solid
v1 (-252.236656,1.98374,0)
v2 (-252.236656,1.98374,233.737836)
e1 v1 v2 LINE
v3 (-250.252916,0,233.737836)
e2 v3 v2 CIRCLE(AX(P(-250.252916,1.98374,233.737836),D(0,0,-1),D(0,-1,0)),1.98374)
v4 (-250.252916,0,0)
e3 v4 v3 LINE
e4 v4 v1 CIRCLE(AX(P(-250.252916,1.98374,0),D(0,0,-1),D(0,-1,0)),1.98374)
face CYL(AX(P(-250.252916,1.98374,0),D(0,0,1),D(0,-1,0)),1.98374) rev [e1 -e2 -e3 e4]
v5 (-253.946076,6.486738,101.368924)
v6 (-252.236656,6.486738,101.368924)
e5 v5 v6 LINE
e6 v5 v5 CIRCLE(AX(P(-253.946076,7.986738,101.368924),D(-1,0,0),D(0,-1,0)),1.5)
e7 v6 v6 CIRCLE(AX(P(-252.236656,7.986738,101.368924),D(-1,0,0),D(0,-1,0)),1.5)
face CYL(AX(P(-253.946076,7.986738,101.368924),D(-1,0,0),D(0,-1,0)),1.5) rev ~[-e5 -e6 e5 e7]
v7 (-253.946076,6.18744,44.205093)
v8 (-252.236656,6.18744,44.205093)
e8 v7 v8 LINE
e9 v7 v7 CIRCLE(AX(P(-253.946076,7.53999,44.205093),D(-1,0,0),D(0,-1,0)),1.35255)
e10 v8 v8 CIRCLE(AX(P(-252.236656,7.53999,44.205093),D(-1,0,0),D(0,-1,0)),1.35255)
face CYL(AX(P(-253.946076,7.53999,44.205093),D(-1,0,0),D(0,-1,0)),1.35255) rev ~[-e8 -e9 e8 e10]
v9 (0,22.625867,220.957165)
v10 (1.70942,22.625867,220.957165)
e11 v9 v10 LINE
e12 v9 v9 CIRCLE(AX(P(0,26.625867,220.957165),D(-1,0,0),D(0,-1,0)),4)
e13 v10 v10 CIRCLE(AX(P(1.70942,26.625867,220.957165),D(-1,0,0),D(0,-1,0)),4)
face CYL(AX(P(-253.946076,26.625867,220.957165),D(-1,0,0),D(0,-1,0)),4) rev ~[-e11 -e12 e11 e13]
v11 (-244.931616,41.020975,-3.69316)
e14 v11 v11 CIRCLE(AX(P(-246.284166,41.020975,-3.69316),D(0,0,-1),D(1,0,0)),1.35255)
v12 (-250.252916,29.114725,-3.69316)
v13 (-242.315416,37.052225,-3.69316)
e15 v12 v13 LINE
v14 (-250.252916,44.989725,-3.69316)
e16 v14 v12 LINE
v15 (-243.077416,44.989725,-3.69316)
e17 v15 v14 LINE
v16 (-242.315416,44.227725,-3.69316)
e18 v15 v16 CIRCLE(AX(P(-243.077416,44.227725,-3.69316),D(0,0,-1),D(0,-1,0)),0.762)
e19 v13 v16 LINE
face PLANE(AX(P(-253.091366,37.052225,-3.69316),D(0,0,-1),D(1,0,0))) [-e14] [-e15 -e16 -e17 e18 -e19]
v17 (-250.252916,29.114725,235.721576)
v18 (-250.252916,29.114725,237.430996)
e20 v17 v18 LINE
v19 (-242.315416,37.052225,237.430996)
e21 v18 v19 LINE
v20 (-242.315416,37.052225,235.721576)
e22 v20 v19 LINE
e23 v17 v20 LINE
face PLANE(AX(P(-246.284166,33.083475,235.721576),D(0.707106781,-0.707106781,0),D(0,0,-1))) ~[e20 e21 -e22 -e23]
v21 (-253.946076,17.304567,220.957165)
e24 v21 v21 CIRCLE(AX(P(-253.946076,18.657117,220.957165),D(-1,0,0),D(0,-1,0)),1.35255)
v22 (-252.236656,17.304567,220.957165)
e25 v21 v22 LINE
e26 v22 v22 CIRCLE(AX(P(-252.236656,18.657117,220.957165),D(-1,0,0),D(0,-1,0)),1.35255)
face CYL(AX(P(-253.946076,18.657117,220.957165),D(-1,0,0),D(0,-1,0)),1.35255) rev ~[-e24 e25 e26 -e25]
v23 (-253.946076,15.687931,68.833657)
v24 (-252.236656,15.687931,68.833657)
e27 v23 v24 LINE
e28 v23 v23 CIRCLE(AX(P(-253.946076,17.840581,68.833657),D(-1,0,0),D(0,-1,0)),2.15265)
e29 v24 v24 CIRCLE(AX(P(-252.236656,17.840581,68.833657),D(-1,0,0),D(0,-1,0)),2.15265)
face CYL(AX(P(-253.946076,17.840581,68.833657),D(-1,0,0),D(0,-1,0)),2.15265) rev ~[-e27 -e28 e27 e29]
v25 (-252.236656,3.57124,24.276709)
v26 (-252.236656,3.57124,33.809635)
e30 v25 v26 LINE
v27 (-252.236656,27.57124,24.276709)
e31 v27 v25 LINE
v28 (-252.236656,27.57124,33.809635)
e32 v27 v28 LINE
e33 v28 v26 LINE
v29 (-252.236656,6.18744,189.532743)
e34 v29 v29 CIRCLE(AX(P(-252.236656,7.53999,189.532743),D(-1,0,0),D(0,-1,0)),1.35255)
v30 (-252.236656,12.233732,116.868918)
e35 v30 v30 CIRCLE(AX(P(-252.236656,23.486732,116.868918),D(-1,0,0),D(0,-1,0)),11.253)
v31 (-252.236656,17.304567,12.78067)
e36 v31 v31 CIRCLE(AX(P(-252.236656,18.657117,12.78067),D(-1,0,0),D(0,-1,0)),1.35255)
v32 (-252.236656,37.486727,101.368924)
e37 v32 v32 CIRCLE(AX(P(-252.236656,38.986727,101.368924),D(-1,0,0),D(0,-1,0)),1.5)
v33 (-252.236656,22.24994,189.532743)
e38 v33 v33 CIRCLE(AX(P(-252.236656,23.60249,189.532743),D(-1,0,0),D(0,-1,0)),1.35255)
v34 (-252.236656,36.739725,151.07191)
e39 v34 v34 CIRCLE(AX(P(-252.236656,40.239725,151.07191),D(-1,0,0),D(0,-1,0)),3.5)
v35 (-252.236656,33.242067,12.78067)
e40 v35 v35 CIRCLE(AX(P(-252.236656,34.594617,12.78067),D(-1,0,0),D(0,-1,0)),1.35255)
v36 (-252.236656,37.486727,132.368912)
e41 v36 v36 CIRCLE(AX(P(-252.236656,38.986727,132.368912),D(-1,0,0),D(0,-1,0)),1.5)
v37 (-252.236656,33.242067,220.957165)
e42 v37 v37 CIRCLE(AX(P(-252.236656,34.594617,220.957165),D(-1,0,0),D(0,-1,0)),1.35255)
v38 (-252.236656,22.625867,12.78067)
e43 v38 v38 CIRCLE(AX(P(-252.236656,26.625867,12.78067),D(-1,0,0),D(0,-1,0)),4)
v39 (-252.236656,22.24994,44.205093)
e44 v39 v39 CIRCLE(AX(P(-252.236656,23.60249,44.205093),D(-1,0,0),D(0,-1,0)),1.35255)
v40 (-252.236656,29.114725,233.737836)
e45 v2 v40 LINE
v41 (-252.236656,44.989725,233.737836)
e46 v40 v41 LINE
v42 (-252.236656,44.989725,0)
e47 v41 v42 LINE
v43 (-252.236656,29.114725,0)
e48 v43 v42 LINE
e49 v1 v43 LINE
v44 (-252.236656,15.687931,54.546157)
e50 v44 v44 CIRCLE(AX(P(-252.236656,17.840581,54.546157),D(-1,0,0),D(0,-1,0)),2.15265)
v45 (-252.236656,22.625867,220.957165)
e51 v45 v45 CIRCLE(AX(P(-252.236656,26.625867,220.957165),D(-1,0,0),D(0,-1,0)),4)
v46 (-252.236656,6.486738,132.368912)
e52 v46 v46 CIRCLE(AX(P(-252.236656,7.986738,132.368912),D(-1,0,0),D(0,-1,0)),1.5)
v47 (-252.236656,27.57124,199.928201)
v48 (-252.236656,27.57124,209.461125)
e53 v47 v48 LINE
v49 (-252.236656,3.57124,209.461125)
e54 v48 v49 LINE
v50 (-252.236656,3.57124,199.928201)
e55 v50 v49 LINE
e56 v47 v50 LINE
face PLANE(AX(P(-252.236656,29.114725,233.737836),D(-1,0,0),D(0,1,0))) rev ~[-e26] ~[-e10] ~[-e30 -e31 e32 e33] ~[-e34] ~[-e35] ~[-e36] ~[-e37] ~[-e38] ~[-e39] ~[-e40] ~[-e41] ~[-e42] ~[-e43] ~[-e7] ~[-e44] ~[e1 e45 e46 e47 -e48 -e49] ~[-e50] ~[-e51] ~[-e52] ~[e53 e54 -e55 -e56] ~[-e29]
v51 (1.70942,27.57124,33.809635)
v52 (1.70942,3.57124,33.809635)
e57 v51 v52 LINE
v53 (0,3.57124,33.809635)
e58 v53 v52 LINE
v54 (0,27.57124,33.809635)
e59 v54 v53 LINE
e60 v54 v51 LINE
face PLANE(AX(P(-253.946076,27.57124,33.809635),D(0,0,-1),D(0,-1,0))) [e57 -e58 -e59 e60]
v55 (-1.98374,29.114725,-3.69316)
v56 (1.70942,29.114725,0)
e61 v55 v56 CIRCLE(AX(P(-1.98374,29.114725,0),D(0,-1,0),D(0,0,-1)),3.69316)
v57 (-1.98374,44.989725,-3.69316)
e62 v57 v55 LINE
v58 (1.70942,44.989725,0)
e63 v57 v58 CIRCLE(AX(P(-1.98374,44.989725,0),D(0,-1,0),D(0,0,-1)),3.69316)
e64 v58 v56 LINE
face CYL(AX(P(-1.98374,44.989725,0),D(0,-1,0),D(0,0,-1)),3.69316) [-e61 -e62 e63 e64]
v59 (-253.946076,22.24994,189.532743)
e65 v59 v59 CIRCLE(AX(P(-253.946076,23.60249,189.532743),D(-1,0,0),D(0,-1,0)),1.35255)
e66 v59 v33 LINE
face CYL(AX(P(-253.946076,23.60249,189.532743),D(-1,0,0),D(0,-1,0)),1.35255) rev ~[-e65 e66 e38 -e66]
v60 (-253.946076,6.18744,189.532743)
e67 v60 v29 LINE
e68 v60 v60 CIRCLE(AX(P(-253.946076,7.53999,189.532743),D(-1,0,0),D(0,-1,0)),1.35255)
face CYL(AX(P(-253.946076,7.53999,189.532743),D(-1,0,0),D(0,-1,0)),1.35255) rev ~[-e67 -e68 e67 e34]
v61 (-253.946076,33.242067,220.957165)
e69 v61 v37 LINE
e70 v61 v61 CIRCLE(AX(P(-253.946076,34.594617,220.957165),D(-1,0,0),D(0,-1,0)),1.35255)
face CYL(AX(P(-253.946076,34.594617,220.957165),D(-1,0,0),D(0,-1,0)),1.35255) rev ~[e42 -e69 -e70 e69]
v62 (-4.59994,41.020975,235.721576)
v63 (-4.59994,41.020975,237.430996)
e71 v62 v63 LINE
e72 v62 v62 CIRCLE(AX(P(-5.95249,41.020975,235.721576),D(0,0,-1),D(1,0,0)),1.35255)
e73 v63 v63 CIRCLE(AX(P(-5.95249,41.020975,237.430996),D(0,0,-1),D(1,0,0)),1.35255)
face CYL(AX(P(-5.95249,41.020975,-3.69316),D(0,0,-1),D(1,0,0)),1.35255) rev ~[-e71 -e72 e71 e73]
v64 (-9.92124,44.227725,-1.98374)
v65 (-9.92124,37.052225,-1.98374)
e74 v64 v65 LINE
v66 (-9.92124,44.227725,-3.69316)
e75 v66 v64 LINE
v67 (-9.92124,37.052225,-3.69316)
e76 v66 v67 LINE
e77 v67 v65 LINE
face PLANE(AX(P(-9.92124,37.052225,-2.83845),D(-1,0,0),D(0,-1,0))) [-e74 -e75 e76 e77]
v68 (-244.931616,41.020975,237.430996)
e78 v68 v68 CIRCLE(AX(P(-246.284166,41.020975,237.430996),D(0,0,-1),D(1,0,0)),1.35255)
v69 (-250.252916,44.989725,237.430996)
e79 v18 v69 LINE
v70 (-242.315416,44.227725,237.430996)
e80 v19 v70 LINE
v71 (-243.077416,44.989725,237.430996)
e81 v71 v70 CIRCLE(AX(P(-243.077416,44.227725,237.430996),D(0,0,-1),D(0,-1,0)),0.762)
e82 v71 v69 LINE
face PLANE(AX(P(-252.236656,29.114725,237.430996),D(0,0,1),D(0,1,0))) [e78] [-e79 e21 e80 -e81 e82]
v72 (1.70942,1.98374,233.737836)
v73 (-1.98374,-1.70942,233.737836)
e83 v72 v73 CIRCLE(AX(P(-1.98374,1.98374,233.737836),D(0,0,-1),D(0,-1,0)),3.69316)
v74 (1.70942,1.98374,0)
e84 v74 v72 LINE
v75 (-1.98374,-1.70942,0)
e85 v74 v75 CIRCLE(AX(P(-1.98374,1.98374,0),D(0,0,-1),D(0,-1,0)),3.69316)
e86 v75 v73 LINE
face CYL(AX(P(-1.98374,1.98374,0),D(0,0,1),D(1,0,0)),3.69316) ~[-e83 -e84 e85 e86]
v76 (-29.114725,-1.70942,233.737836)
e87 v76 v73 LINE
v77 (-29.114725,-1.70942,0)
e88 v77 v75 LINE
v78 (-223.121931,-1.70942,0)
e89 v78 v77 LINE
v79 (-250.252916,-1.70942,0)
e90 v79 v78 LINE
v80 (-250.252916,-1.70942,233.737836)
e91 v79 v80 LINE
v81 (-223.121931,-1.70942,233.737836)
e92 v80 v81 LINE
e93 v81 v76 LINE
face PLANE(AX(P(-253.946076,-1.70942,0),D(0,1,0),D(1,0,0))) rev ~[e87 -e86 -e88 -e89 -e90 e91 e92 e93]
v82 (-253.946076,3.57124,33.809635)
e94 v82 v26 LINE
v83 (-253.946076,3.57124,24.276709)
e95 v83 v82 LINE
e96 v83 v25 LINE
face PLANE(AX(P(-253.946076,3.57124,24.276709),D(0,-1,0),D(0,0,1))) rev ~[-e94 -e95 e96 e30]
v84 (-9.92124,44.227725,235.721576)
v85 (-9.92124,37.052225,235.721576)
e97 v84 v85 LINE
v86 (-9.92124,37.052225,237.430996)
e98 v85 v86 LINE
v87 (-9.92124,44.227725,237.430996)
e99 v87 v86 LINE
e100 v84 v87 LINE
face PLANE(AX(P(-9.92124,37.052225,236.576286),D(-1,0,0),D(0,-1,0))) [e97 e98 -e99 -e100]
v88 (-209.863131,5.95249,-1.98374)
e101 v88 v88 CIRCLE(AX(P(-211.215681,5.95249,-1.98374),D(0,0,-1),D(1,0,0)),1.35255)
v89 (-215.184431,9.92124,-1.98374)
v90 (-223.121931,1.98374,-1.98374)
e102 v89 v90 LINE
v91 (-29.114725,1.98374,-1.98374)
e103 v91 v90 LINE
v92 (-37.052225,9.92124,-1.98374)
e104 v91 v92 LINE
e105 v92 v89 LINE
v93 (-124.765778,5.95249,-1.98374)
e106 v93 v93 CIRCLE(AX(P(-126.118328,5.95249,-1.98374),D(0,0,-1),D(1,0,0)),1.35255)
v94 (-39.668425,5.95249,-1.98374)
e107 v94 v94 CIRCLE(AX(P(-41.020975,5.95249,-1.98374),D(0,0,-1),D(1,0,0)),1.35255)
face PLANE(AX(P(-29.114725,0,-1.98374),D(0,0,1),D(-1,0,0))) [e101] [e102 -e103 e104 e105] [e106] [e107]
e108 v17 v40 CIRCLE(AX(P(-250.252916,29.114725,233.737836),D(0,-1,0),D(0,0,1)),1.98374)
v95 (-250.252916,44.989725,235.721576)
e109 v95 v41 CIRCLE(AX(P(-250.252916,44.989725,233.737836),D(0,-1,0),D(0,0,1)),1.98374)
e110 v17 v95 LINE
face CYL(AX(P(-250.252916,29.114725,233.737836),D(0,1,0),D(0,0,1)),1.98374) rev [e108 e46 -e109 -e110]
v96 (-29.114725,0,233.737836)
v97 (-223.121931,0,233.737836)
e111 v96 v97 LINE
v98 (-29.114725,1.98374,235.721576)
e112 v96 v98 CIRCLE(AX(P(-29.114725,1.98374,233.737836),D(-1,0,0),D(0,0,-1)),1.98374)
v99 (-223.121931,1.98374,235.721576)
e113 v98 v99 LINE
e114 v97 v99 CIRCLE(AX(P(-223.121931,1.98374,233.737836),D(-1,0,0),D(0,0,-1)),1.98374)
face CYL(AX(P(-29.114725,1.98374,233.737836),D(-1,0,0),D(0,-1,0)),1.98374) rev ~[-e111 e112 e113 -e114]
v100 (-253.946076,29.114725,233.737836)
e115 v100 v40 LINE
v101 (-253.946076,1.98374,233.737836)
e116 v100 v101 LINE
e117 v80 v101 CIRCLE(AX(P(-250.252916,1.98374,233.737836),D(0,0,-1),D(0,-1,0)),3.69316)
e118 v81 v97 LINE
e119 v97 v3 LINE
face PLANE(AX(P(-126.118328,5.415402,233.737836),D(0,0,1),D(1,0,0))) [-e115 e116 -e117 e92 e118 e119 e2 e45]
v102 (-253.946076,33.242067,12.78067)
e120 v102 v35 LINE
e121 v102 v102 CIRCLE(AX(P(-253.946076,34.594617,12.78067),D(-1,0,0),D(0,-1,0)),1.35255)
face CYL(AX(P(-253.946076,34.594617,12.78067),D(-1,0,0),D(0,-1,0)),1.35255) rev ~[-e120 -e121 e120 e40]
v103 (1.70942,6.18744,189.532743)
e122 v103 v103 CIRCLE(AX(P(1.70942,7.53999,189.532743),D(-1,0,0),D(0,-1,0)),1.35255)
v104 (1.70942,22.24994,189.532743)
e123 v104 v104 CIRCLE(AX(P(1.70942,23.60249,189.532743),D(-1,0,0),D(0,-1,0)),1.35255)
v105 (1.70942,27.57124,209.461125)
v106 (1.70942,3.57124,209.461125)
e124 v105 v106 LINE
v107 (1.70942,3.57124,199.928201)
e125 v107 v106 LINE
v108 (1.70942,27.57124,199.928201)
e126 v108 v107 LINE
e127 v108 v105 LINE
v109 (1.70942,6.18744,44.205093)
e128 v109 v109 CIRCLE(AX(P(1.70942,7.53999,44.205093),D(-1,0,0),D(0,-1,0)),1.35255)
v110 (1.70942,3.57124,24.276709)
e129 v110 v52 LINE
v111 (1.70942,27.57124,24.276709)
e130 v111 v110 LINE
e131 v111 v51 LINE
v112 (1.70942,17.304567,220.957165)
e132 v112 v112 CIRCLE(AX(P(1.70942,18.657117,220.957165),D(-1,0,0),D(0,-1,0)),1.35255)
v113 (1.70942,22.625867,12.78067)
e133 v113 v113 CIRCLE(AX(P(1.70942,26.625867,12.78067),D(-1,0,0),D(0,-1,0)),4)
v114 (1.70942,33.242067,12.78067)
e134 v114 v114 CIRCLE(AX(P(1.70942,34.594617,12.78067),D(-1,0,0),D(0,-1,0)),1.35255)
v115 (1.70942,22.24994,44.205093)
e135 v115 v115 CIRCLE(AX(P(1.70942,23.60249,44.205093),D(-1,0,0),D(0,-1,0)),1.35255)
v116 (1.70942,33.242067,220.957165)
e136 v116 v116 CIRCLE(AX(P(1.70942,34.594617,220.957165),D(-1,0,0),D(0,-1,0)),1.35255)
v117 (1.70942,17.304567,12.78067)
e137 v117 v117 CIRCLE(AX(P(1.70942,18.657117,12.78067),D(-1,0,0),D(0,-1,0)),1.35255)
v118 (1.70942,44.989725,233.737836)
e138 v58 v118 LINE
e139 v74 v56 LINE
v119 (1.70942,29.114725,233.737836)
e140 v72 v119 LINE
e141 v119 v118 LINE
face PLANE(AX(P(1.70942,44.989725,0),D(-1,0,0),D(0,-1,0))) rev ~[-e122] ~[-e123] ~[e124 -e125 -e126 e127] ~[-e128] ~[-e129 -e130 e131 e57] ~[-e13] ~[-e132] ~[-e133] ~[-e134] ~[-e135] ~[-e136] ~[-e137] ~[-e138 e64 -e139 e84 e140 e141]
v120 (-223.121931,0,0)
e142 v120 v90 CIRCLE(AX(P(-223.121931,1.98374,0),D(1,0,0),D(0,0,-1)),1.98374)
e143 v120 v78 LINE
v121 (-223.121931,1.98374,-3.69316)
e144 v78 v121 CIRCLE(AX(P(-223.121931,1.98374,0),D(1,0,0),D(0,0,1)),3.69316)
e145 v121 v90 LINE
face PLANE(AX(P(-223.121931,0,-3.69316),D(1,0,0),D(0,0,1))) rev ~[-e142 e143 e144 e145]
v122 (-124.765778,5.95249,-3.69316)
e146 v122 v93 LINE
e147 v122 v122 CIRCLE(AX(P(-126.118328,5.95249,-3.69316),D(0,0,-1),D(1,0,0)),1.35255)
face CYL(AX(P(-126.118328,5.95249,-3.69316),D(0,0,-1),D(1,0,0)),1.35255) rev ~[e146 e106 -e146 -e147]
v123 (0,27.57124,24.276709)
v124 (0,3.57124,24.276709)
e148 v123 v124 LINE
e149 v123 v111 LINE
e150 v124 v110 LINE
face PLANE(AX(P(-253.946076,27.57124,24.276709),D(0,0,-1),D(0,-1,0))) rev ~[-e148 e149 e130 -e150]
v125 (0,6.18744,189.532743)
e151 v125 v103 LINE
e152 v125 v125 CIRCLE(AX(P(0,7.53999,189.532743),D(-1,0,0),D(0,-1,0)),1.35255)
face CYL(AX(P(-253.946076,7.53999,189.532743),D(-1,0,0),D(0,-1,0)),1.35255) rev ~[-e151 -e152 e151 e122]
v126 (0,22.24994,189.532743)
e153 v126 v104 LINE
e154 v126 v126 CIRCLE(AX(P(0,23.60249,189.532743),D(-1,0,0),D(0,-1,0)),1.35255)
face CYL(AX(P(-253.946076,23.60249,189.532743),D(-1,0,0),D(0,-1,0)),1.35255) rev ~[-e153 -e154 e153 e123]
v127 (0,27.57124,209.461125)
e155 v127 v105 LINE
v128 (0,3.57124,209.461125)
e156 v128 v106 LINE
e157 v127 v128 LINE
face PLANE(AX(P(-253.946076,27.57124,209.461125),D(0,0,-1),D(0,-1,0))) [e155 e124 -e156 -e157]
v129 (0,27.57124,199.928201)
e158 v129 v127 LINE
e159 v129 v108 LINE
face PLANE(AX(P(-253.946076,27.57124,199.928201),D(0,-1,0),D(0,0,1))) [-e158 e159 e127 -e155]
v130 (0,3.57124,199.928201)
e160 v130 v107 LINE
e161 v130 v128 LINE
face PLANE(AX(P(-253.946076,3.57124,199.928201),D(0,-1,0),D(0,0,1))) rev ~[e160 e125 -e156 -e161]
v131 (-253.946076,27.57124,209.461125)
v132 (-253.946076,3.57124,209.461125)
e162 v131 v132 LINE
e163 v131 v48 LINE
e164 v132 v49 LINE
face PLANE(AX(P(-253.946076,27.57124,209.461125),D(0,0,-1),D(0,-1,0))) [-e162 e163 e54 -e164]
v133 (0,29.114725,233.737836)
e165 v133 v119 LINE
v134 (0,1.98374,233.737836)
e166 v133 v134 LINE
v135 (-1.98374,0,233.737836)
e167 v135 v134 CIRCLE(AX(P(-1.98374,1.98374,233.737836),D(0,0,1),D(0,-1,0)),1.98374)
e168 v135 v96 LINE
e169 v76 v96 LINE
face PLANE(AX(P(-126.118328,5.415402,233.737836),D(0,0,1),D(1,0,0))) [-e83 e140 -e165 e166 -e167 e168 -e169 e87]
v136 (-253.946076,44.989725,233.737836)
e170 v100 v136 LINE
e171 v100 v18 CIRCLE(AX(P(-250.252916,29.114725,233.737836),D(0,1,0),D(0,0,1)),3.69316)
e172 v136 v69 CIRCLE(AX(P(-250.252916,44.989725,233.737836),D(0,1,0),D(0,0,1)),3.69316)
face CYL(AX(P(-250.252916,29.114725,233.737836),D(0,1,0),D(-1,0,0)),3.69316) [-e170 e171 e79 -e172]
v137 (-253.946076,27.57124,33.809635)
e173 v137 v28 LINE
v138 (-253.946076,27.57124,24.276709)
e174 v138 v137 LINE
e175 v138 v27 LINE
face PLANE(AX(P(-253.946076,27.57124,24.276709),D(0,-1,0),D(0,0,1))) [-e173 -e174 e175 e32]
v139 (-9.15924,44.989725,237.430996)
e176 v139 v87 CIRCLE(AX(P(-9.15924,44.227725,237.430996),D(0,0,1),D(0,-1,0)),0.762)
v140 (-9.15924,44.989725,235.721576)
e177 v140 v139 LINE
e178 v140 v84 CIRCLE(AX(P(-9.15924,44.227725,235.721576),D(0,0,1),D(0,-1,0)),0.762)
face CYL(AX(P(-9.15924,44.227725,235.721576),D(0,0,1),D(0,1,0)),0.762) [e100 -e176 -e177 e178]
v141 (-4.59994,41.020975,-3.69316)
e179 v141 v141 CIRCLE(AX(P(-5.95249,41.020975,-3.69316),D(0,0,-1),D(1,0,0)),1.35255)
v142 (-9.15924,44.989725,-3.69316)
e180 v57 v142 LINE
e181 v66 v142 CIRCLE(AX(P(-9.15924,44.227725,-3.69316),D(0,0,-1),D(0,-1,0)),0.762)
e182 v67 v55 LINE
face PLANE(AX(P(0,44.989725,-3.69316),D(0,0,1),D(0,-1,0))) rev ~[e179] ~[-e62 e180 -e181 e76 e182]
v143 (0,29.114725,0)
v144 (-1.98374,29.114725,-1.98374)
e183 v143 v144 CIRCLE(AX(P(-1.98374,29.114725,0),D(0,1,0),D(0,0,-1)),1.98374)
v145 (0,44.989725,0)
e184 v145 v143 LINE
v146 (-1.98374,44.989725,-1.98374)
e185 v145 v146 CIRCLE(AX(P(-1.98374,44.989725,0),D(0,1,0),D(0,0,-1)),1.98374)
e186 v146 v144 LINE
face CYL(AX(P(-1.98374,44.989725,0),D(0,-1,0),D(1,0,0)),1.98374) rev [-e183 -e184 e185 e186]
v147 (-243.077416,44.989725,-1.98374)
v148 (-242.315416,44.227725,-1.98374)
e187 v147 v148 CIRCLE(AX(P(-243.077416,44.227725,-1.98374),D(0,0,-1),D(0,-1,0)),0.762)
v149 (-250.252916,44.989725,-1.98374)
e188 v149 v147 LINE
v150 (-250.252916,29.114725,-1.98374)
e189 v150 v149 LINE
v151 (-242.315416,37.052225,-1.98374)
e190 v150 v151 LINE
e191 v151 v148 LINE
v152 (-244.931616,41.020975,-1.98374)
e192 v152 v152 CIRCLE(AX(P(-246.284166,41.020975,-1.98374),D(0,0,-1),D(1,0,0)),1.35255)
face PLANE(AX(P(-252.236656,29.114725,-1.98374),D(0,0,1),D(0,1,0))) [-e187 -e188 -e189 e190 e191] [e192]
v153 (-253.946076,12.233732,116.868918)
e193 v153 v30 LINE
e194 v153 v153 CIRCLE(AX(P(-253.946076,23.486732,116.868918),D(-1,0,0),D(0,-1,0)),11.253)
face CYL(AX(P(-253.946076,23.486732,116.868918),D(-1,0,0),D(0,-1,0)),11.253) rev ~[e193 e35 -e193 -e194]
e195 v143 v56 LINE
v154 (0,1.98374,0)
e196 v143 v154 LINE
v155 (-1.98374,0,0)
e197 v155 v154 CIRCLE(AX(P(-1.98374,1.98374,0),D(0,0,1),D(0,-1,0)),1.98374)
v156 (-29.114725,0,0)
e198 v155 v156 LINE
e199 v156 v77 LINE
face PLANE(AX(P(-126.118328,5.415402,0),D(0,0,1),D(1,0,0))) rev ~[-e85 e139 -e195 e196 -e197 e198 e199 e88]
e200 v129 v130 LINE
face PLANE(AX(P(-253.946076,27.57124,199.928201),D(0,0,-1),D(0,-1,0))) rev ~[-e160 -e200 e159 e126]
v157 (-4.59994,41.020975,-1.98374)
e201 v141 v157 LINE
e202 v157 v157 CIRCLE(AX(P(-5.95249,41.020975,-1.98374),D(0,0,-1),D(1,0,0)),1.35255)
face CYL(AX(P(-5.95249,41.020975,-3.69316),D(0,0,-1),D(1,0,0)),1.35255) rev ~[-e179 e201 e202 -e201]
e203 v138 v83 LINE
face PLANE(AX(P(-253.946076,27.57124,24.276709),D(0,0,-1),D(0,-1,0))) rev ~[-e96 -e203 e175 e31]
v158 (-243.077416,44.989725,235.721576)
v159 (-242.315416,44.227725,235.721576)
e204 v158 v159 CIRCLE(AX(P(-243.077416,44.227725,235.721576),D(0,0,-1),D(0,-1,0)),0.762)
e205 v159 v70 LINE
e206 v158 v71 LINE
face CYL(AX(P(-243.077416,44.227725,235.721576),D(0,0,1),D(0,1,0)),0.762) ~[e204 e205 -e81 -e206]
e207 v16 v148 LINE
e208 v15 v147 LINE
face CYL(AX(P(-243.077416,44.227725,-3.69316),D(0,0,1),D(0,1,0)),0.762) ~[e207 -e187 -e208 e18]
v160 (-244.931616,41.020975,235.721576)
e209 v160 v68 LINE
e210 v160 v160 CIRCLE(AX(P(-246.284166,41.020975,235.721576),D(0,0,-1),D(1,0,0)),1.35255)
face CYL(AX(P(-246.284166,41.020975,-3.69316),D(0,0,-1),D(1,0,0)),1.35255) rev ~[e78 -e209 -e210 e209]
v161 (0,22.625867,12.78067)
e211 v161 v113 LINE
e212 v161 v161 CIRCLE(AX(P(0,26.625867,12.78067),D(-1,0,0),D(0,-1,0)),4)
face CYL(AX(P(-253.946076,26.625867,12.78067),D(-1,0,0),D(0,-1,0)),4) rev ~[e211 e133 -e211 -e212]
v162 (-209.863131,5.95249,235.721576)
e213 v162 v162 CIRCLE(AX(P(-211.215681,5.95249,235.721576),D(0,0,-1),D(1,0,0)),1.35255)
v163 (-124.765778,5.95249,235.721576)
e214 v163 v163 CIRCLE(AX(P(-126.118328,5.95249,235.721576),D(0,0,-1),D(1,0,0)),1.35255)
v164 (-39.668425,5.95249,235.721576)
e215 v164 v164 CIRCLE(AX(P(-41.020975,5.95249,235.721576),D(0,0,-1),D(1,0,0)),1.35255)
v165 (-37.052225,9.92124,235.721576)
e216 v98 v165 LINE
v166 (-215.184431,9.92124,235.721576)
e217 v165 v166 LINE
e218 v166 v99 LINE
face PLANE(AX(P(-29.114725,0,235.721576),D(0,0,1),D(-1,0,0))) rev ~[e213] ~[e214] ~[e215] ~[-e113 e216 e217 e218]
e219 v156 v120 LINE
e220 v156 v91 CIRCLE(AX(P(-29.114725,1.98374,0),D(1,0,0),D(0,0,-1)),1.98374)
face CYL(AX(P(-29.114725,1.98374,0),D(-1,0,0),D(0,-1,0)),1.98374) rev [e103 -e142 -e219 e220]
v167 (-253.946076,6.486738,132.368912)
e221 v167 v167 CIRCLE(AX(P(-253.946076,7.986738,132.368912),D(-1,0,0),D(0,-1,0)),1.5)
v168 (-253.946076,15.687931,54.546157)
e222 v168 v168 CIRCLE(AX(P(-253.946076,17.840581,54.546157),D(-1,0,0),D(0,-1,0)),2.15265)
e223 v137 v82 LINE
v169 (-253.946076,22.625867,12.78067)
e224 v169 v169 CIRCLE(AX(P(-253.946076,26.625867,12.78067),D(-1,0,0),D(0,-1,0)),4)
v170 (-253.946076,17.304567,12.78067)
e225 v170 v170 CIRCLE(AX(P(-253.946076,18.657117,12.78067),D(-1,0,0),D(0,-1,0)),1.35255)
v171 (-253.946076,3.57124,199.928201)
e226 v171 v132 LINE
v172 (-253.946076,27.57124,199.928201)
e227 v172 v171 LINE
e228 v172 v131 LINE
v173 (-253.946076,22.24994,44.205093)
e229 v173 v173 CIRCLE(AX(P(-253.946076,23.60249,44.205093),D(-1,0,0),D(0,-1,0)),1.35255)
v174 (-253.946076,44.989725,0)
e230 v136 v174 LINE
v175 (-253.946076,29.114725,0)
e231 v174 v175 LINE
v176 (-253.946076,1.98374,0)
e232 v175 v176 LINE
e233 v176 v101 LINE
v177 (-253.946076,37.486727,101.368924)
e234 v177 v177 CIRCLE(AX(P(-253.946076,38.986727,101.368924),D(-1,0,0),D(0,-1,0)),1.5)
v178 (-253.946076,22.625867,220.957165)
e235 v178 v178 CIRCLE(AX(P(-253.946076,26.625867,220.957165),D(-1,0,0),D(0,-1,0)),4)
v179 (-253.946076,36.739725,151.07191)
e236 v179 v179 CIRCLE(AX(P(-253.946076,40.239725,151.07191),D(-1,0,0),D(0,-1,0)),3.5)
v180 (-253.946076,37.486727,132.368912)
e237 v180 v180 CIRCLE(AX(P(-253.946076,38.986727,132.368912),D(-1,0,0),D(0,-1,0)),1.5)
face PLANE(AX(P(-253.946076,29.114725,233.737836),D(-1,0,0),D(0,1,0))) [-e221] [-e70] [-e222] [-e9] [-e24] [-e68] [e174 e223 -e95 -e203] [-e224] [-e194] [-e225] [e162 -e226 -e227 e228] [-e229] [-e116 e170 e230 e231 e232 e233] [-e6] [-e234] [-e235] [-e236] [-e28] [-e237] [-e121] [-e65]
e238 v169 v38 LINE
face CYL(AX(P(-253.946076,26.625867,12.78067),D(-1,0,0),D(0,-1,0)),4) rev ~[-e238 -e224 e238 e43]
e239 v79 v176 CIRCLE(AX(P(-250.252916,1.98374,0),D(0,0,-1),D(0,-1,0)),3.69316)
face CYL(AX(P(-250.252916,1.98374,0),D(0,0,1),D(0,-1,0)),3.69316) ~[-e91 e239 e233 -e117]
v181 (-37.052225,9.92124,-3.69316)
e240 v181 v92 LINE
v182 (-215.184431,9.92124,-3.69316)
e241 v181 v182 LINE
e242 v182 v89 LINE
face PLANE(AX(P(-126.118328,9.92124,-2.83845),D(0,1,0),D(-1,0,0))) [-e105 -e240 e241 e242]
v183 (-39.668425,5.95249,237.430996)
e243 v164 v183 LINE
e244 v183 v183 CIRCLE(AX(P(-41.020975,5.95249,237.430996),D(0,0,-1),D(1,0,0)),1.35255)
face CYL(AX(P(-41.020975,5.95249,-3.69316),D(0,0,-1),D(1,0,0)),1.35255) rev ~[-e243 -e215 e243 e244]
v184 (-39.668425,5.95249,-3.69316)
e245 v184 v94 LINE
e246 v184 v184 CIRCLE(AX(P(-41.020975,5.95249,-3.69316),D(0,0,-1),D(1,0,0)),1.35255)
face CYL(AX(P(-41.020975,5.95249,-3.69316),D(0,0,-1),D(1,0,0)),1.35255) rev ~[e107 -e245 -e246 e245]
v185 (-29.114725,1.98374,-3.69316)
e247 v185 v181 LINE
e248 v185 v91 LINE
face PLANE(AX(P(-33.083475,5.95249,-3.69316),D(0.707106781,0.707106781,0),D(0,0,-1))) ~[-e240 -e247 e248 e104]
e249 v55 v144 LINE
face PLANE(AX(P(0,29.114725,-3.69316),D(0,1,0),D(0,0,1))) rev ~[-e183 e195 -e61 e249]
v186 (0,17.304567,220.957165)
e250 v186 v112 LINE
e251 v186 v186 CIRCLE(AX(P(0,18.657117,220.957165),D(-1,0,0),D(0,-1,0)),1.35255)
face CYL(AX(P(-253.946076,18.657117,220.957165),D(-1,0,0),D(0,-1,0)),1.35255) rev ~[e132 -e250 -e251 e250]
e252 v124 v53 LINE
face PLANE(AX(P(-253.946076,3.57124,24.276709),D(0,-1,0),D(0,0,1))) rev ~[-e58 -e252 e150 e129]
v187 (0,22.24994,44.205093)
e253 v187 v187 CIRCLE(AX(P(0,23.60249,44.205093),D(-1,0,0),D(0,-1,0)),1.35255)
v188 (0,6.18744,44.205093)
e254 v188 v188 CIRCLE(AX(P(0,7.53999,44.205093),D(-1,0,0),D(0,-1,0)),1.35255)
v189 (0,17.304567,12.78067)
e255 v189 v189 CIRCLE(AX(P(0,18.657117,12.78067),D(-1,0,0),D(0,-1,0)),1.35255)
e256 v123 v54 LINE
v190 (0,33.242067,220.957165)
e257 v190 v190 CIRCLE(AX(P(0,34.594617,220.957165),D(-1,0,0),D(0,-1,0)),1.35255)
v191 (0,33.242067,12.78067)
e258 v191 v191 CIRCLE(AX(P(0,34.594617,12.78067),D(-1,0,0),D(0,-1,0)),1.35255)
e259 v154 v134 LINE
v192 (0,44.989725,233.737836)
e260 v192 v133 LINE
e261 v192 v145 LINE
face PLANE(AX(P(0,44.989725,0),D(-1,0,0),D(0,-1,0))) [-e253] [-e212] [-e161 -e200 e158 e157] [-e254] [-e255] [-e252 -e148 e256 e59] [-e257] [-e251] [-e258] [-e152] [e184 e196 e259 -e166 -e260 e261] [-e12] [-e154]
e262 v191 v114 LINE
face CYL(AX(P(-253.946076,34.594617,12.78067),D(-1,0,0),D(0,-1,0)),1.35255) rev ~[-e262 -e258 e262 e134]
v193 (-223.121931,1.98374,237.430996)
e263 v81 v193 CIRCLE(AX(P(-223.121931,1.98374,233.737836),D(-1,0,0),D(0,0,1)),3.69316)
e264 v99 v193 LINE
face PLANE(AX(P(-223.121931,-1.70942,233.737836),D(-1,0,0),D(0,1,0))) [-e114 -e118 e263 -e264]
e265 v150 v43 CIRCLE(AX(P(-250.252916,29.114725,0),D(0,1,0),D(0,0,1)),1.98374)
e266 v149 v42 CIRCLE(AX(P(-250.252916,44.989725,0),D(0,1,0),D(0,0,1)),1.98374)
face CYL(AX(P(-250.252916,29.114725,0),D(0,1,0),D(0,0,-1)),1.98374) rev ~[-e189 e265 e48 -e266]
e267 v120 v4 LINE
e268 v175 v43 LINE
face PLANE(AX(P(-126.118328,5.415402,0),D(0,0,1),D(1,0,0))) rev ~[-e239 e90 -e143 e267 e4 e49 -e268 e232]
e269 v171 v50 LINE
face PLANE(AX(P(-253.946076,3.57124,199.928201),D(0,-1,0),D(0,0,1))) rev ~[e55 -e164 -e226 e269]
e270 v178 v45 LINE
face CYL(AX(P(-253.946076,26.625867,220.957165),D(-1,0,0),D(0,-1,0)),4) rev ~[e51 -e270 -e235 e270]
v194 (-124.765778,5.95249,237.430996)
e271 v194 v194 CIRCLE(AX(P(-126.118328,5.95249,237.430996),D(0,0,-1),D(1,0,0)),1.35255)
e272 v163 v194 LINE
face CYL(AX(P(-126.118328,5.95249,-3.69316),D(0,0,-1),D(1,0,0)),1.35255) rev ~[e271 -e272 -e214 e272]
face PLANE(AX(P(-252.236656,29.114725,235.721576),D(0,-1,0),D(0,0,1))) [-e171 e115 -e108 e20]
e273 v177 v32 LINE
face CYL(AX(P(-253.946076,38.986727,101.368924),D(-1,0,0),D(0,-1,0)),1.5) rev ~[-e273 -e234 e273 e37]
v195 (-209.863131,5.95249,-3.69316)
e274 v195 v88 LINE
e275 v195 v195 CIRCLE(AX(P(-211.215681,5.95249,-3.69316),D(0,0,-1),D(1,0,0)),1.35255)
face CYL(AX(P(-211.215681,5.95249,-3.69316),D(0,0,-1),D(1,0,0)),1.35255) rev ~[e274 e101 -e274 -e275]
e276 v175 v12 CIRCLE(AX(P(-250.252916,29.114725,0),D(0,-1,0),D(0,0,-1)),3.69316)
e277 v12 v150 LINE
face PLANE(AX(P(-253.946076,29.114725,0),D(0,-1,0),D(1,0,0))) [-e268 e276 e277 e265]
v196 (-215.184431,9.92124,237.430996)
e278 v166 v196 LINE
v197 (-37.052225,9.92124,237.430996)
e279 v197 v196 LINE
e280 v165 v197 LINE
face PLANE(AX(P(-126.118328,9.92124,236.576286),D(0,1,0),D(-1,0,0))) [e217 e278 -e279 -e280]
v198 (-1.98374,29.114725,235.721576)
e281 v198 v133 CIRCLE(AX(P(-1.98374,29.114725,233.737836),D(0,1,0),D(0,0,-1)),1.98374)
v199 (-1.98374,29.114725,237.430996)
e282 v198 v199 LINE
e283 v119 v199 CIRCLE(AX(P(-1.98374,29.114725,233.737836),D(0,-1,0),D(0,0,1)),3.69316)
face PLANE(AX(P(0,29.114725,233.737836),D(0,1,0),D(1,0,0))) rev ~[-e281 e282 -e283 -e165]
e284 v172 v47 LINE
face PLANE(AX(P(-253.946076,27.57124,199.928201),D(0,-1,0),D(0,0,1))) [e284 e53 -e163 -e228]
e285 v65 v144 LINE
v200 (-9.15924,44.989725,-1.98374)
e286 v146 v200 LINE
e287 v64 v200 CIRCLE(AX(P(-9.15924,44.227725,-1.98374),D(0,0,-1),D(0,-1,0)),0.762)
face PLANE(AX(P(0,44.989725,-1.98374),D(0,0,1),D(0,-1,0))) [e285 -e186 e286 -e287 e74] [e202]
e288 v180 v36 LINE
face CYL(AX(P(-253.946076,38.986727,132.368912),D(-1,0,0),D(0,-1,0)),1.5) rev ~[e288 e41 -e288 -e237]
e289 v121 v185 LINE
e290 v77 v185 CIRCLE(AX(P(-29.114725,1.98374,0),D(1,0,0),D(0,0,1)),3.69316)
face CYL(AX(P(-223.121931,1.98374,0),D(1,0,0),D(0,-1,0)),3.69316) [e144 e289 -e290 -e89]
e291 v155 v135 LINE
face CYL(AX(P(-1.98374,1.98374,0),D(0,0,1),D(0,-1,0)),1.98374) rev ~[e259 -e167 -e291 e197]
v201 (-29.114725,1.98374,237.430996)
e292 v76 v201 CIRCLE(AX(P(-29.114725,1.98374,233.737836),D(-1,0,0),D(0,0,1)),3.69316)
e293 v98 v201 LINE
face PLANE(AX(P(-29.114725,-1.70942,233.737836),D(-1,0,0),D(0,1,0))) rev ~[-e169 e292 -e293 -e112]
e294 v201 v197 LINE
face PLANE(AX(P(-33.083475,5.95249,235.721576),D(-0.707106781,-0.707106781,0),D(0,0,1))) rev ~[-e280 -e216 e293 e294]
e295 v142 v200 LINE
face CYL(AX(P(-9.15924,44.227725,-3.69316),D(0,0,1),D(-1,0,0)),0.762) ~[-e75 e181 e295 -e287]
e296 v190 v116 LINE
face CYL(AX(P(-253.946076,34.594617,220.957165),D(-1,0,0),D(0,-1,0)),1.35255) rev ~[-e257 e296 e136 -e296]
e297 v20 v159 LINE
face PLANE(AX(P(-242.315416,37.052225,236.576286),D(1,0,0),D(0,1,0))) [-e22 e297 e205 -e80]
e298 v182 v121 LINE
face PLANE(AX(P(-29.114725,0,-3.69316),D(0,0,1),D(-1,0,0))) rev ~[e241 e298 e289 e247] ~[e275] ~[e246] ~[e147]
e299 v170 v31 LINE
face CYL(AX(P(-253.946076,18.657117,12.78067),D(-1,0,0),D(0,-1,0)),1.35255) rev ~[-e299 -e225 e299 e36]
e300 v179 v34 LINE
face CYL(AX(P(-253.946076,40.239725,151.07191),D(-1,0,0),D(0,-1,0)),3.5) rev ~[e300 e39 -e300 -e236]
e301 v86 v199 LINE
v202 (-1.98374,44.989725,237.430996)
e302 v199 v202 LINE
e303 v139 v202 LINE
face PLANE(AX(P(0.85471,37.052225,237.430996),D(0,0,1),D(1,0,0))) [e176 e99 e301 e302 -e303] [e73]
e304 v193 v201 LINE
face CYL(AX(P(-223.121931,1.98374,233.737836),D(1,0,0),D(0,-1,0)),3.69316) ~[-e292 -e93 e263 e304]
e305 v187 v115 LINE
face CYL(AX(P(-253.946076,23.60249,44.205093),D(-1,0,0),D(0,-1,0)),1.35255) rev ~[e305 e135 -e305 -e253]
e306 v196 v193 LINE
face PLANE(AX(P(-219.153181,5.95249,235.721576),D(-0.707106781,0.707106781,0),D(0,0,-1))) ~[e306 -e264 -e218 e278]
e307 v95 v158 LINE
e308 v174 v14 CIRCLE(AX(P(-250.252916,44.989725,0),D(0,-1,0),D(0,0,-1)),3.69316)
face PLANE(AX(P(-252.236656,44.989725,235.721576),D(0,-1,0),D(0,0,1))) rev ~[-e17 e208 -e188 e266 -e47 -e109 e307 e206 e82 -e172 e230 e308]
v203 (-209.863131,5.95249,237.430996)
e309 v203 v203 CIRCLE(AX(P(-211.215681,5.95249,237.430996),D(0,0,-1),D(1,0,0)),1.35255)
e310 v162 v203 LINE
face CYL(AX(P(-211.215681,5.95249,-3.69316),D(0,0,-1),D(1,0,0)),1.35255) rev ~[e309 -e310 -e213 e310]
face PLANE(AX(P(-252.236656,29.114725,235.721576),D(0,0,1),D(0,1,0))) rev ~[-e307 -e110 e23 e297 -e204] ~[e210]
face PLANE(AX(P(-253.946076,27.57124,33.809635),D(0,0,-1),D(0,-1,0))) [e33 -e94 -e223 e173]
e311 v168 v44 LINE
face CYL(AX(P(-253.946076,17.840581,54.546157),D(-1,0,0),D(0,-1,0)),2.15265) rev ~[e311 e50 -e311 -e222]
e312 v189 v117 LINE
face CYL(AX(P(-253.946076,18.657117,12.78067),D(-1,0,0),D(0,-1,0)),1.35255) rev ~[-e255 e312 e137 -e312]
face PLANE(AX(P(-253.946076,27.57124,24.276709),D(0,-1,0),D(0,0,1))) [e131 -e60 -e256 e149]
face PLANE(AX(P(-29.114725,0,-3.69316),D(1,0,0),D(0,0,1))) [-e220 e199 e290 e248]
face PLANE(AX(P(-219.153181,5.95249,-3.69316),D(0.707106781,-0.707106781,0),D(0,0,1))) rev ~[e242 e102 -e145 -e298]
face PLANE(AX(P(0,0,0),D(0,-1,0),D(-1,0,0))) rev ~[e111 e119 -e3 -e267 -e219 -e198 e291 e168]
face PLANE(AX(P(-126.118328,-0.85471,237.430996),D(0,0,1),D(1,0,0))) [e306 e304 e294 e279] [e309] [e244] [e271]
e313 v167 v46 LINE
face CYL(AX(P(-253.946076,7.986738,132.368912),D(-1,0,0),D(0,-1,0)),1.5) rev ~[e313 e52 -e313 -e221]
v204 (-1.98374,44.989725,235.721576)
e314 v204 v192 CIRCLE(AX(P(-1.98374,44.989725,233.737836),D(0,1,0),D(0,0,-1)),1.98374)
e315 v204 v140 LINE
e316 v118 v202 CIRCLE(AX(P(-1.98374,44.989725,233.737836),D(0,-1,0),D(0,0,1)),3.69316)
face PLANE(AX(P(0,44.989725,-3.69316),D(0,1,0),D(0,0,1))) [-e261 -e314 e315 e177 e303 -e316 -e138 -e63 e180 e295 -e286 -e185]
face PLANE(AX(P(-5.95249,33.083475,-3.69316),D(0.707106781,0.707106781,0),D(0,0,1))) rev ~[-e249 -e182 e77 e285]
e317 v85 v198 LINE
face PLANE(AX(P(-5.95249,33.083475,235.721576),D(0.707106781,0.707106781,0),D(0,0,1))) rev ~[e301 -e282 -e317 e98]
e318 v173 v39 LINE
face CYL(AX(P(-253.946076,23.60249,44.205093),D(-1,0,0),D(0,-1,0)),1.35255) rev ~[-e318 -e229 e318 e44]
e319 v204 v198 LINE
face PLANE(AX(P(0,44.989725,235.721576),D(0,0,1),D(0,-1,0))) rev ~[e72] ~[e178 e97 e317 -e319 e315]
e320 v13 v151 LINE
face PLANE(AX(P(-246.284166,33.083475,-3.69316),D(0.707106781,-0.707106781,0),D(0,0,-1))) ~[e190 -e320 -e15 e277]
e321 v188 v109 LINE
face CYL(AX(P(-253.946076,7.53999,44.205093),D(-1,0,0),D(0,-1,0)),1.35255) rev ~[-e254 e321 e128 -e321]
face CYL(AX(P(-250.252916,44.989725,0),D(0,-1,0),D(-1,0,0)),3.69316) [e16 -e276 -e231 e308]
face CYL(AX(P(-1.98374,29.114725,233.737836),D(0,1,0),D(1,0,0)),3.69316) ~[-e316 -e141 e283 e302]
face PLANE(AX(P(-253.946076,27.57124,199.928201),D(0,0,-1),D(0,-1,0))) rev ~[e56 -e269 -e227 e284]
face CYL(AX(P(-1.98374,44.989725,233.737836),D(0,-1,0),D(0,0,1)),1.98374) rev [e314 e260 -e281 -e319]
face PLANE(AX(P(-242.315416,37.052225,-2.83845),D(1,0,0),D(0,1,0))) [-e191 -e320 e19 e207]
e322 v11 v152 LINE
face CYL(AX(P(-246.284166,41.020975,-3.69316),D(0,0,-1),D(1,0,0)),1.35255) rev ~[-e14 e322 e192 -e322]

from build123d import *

# Parameters (mm, degrees)
F1_DEPTH  = 233.737836
F2_W      = 1.70942
F2_H      = 15.875
F2_W_2    = 194.007206
F2_H_2    = 1.70942
F3_DEPTH  = 3.69316
F4_W      = 1.70942
F4_H      = 15.875
F4_W_2    = 194.007206
F4_H_2    = 1.70942
F5_DEPTH  = 3.69316
F6_W      = 194.007206
F6_H      = 1.70942
F7_DEPTH  = 9.92124
F8_W      = 15.875
F8_H      = 1.70942
F9_DEPTH  = 9.92124
F10_W     = 15.875
F10_H     = 1.70942
F11_DEPTH = 9.92124
F12_R     = 1.98374
F13_R     = 3.69316
F14_SIZE  = 7.9375
F15_R     = 1.35255
F16_DEPTH = 241.124156
F17_R     = 1.35255
F17_R_2   = 4
F17_W     = 24
F17_H     = 9.532924
F17_H_2   = 9.532925
F18_DEPTH = 255.655496
F19_R     = 0.762
F20_R     = 11.253
F20_R_2   = 1.5
F20_R_3   = 3.5
F20_R_4   = 2.15265
F21_DEPTH = 1.70942


with BuildPart() as f1:
    # F0 (on Top) → F1 (new body)
    with BuildSketch(Plane.XY):
        Polygon((0, 44.989725), (0, 0), (-252.236656, 0), (-252.236656, 44.989725), (-253.946076, 44.989725), (-253.946076, -1.70942), (1.70942, -1.70942), (1.70942, 44.989725), align=None)
    extrude(amount=F1_DEPTH)

    # F2 (on face) → F3 (join)
    with BuildSketch(Plane(origin=(0, 0, 0), x_dir=(1, 0, 0), z_dir=(0, 0, -1))):
        with Locations((0.85471, -37.052225)):
            Rectangle(F2_W, F2_H)
        with Locations((-126.118328, 0.85471)):
            Rectangle(F2_W_2, F2_H_2)
        with Locations((-253.091366, -37.052225)):
            Rectangle(F2_W, F2_H)
    extrude(amount=F3_DEPTH)

    # F4 (on face) → F5 (join)
    with BuildSketch(Plane.XY.offset(233.737836)):
        with Locations((-253.091366, 37.052225)):
            Rectangle(F4_W, F4_H)
        with Locations((0.85471, 37.052225)):
            Rectangle(F4_W, F4_H)
        with Locations((-126.118328, -0.85471)):
            Rectangle(F4_W_2, F4_H_2)
    extrude(amount=F5_DEPTH)

    # F6 (on face) → F7 (join)
    with BuildSketch(Plane(origin=(0, 0, 0), x_dir=(-1, 0, 0), z_dir=(0, 1, 0))):
        with Locations((126.118328, -2.83845)):
            Rectangle(F6_W, F6_H)
        with Locations((126.118328, 236.576286)):
            Rectangle(F6_W, F6_H)
    extrude(amount=F7_DEPTH)

    # F8 (on face) → F9 (join)
    with BuildSketch(Plane.YZ.offset(-252.236656)):
        with Locations((37.052225, 236.576286)):
            Rectangle(F8_W, F8_H)
        with Locations((37.052225, -2.83845)):
            Rectangle(F8_W, F8_H)
    extrude(amount=F9_DEPTH)

    # F10 (on face) → F11 (join)
    with BuildSketch(Plane(origin=(0, 0, 0), x_dir=(0, -1, 0), z_dir=(-1, 0, 0))):
        with Locations((-37.052225, -2.83845)):
            Rectangle(F10_W, F10_H)
        with Locations((-37.052225, 236.576286)):
            Rectangle(F10_W, F10_H)
    extrude(amount=F11_DEPTH)

    # F12
    f12_edges = [f1.edges().sort_by_distance(p)[0] for p in [
        (0, 37.052225, 235.721576),
        (-126.118328, 0, 235.721576),
        (-252.236656, 37.052225, 235.721576),
        (-252.236656, 37.052225, -1.98374),
        (-126.118328, 0, -1.98374),
        (0, 37.052225, -1.98374),
        (0, 0, 116.868918),
        (-252.236656, 0, 116.868918),
    ]]
    fillet(f12_edges, radius=F12_R)

    # F13
    f13_edges = [f1.edges().sort_by_distance(p)[0] for p in [
        (-253.946076, 37.052225, -3.69316),
        (-126.118328, -1.70942, -3.69316),
        (-253.946076, -1.70942, 116.868918),
        (-126.118328, -1.70942, 237.430996),
        (-253.946076, 37.052225, 237.430996),
        (1.70942, 37.052225, -3.69316),
        (1.70942, -1.70942, 116.868918),
        (1.70942, 37.052225, 237.430996),
    ]]
    fillet(f13_edges, radius=F13_R)

    # F14
    f14_edges = [f1.edges().sort_by_distance(p)[0] for p in [
        (-242.315416, 29.114725, 236.576286),
        (-223.121931, 9.92124, 236.576286),
        (-29.114725, 9.92124, 236.576286),
        (-9.92124, 29.114725, 236.576286),
        (-29.114725, 9.92124, -2.83845),
        (-9.92124, 29.114725, -2.83845),
        (-242.315416, 29.114725, -2.83845),
        (-223.121931, 9.92124, -2.83845),
    ]]
    chamfer(f14_edges, length=F14_SIZE)

    # F15 (on face) → F16 (cut, through all)
    with BuildSketch(Plane(origin=(0, 0, -3.69316), x_dir=(1, 0, 0), z_dir=(0, 0, -1))):
        with Locations((-41.020975, -5.95249)):
            Circle(F15_R)
        with Locations((-126.118328, -5.95249)):
            Circle(F15_R)
        with Locations((-211.215681, -5.95249)):
            Circle(F15_R)
        with Locations((-246.284166, -41.020975)):
            Circle(F15_R)
        with Locations((-5.95249, -41.020975)):
            Circle(F15_R)
    extrude(amount=-F16_DEPTH, mode=Mode.SUBTRACT)

    # F17 (on face) → F18 (cut, through all)
    with BuildSketch(Plane(origin=(-253.946076, 0, 0), x_dir=(0, -1, 0), z_dir=(-1, 0, 0))):
        with Locations((-34.594617, 12.78067)):
            Circle(F17_R)
        with Locations((-18.657117, 12.78067)):
            Circle(F17_R)
        with Locations((-18.657117, 220.957165)):
            Circle(F17_R)
        with Locations((-34.594617, 220.957165)):
            Circle(F17_R)
        with Locations((-26.625867, 220.957165)):
            Circle(F17_R_2)
        with Locations((-26.625867, 12.78067)):
            Circle(F17_R_2)
        with Locations((-15.57124, 204.694663)):
            Rectangle(F17_W, F17_H)
        with Locations((-15.57124, 29.043172)):
            Rectangle(F17_W, F17_H_2)
        with Locations((-23.60249, 44.205093)):
            Circle(F17_R)
        with Locations((-7.53999, 44.205093)):
            Circle(F17_R)
        with Locations((-23.60249, 189.532743)):
            Circle(F17_R)
        with Locations((-7.53999, 189.532743)):
            Circle(F17_R)
    extrude(amount=-F18_DEPTH, mode=Mode.SUBTRACT)

    # F19
    f19_edges = [f1.edges().sort_by_distance(p)[0] for p in [
        (-242.315416, 44.989725, -2.83845),
        (-242.315416, 44.989725, 236.576286),
        (-9.92124, 44.989725, 236.576286),
        (-9.92124, 44.989725, -2.83845),
    ]]
    fillet(f19_edges, radius=F19_R)

    # F20 (on face) → F21 (cut, through all)
    with BuildSketch(Plane(origin=(-253.946076, 0, 0), x_dir=(0, -1, 0), z_dir=(-1, 0, 0))):
        with Locations((-23.486732, 116.868918)):
            Circle(F20_R)
        with Locations((-38.986727, 132.368912)):
            Circle(F20_R_2)
        with Locations((-7.986738, 132.368912)):
            Circle(F20_R_2)
        with Locations((-7.986738, 101.368924)):
            Circle(F20_R_2)
        with Locations((-38.986727, 101.368924)):
            Circle(F20_R_2)
        with Locations((-40.239725, 151.07191)):
            Circle(F20_R_3)
        with Locations((-17.840581, 68.833657)):
            Circle(F20_R_4)
        with Locations((-17.840581, 54.546157)):
            Circle(F20_R_4)
    extrude(amount=-F21_DEPTH, mode=Mode.SUBTRACT)


solid = f1.part
